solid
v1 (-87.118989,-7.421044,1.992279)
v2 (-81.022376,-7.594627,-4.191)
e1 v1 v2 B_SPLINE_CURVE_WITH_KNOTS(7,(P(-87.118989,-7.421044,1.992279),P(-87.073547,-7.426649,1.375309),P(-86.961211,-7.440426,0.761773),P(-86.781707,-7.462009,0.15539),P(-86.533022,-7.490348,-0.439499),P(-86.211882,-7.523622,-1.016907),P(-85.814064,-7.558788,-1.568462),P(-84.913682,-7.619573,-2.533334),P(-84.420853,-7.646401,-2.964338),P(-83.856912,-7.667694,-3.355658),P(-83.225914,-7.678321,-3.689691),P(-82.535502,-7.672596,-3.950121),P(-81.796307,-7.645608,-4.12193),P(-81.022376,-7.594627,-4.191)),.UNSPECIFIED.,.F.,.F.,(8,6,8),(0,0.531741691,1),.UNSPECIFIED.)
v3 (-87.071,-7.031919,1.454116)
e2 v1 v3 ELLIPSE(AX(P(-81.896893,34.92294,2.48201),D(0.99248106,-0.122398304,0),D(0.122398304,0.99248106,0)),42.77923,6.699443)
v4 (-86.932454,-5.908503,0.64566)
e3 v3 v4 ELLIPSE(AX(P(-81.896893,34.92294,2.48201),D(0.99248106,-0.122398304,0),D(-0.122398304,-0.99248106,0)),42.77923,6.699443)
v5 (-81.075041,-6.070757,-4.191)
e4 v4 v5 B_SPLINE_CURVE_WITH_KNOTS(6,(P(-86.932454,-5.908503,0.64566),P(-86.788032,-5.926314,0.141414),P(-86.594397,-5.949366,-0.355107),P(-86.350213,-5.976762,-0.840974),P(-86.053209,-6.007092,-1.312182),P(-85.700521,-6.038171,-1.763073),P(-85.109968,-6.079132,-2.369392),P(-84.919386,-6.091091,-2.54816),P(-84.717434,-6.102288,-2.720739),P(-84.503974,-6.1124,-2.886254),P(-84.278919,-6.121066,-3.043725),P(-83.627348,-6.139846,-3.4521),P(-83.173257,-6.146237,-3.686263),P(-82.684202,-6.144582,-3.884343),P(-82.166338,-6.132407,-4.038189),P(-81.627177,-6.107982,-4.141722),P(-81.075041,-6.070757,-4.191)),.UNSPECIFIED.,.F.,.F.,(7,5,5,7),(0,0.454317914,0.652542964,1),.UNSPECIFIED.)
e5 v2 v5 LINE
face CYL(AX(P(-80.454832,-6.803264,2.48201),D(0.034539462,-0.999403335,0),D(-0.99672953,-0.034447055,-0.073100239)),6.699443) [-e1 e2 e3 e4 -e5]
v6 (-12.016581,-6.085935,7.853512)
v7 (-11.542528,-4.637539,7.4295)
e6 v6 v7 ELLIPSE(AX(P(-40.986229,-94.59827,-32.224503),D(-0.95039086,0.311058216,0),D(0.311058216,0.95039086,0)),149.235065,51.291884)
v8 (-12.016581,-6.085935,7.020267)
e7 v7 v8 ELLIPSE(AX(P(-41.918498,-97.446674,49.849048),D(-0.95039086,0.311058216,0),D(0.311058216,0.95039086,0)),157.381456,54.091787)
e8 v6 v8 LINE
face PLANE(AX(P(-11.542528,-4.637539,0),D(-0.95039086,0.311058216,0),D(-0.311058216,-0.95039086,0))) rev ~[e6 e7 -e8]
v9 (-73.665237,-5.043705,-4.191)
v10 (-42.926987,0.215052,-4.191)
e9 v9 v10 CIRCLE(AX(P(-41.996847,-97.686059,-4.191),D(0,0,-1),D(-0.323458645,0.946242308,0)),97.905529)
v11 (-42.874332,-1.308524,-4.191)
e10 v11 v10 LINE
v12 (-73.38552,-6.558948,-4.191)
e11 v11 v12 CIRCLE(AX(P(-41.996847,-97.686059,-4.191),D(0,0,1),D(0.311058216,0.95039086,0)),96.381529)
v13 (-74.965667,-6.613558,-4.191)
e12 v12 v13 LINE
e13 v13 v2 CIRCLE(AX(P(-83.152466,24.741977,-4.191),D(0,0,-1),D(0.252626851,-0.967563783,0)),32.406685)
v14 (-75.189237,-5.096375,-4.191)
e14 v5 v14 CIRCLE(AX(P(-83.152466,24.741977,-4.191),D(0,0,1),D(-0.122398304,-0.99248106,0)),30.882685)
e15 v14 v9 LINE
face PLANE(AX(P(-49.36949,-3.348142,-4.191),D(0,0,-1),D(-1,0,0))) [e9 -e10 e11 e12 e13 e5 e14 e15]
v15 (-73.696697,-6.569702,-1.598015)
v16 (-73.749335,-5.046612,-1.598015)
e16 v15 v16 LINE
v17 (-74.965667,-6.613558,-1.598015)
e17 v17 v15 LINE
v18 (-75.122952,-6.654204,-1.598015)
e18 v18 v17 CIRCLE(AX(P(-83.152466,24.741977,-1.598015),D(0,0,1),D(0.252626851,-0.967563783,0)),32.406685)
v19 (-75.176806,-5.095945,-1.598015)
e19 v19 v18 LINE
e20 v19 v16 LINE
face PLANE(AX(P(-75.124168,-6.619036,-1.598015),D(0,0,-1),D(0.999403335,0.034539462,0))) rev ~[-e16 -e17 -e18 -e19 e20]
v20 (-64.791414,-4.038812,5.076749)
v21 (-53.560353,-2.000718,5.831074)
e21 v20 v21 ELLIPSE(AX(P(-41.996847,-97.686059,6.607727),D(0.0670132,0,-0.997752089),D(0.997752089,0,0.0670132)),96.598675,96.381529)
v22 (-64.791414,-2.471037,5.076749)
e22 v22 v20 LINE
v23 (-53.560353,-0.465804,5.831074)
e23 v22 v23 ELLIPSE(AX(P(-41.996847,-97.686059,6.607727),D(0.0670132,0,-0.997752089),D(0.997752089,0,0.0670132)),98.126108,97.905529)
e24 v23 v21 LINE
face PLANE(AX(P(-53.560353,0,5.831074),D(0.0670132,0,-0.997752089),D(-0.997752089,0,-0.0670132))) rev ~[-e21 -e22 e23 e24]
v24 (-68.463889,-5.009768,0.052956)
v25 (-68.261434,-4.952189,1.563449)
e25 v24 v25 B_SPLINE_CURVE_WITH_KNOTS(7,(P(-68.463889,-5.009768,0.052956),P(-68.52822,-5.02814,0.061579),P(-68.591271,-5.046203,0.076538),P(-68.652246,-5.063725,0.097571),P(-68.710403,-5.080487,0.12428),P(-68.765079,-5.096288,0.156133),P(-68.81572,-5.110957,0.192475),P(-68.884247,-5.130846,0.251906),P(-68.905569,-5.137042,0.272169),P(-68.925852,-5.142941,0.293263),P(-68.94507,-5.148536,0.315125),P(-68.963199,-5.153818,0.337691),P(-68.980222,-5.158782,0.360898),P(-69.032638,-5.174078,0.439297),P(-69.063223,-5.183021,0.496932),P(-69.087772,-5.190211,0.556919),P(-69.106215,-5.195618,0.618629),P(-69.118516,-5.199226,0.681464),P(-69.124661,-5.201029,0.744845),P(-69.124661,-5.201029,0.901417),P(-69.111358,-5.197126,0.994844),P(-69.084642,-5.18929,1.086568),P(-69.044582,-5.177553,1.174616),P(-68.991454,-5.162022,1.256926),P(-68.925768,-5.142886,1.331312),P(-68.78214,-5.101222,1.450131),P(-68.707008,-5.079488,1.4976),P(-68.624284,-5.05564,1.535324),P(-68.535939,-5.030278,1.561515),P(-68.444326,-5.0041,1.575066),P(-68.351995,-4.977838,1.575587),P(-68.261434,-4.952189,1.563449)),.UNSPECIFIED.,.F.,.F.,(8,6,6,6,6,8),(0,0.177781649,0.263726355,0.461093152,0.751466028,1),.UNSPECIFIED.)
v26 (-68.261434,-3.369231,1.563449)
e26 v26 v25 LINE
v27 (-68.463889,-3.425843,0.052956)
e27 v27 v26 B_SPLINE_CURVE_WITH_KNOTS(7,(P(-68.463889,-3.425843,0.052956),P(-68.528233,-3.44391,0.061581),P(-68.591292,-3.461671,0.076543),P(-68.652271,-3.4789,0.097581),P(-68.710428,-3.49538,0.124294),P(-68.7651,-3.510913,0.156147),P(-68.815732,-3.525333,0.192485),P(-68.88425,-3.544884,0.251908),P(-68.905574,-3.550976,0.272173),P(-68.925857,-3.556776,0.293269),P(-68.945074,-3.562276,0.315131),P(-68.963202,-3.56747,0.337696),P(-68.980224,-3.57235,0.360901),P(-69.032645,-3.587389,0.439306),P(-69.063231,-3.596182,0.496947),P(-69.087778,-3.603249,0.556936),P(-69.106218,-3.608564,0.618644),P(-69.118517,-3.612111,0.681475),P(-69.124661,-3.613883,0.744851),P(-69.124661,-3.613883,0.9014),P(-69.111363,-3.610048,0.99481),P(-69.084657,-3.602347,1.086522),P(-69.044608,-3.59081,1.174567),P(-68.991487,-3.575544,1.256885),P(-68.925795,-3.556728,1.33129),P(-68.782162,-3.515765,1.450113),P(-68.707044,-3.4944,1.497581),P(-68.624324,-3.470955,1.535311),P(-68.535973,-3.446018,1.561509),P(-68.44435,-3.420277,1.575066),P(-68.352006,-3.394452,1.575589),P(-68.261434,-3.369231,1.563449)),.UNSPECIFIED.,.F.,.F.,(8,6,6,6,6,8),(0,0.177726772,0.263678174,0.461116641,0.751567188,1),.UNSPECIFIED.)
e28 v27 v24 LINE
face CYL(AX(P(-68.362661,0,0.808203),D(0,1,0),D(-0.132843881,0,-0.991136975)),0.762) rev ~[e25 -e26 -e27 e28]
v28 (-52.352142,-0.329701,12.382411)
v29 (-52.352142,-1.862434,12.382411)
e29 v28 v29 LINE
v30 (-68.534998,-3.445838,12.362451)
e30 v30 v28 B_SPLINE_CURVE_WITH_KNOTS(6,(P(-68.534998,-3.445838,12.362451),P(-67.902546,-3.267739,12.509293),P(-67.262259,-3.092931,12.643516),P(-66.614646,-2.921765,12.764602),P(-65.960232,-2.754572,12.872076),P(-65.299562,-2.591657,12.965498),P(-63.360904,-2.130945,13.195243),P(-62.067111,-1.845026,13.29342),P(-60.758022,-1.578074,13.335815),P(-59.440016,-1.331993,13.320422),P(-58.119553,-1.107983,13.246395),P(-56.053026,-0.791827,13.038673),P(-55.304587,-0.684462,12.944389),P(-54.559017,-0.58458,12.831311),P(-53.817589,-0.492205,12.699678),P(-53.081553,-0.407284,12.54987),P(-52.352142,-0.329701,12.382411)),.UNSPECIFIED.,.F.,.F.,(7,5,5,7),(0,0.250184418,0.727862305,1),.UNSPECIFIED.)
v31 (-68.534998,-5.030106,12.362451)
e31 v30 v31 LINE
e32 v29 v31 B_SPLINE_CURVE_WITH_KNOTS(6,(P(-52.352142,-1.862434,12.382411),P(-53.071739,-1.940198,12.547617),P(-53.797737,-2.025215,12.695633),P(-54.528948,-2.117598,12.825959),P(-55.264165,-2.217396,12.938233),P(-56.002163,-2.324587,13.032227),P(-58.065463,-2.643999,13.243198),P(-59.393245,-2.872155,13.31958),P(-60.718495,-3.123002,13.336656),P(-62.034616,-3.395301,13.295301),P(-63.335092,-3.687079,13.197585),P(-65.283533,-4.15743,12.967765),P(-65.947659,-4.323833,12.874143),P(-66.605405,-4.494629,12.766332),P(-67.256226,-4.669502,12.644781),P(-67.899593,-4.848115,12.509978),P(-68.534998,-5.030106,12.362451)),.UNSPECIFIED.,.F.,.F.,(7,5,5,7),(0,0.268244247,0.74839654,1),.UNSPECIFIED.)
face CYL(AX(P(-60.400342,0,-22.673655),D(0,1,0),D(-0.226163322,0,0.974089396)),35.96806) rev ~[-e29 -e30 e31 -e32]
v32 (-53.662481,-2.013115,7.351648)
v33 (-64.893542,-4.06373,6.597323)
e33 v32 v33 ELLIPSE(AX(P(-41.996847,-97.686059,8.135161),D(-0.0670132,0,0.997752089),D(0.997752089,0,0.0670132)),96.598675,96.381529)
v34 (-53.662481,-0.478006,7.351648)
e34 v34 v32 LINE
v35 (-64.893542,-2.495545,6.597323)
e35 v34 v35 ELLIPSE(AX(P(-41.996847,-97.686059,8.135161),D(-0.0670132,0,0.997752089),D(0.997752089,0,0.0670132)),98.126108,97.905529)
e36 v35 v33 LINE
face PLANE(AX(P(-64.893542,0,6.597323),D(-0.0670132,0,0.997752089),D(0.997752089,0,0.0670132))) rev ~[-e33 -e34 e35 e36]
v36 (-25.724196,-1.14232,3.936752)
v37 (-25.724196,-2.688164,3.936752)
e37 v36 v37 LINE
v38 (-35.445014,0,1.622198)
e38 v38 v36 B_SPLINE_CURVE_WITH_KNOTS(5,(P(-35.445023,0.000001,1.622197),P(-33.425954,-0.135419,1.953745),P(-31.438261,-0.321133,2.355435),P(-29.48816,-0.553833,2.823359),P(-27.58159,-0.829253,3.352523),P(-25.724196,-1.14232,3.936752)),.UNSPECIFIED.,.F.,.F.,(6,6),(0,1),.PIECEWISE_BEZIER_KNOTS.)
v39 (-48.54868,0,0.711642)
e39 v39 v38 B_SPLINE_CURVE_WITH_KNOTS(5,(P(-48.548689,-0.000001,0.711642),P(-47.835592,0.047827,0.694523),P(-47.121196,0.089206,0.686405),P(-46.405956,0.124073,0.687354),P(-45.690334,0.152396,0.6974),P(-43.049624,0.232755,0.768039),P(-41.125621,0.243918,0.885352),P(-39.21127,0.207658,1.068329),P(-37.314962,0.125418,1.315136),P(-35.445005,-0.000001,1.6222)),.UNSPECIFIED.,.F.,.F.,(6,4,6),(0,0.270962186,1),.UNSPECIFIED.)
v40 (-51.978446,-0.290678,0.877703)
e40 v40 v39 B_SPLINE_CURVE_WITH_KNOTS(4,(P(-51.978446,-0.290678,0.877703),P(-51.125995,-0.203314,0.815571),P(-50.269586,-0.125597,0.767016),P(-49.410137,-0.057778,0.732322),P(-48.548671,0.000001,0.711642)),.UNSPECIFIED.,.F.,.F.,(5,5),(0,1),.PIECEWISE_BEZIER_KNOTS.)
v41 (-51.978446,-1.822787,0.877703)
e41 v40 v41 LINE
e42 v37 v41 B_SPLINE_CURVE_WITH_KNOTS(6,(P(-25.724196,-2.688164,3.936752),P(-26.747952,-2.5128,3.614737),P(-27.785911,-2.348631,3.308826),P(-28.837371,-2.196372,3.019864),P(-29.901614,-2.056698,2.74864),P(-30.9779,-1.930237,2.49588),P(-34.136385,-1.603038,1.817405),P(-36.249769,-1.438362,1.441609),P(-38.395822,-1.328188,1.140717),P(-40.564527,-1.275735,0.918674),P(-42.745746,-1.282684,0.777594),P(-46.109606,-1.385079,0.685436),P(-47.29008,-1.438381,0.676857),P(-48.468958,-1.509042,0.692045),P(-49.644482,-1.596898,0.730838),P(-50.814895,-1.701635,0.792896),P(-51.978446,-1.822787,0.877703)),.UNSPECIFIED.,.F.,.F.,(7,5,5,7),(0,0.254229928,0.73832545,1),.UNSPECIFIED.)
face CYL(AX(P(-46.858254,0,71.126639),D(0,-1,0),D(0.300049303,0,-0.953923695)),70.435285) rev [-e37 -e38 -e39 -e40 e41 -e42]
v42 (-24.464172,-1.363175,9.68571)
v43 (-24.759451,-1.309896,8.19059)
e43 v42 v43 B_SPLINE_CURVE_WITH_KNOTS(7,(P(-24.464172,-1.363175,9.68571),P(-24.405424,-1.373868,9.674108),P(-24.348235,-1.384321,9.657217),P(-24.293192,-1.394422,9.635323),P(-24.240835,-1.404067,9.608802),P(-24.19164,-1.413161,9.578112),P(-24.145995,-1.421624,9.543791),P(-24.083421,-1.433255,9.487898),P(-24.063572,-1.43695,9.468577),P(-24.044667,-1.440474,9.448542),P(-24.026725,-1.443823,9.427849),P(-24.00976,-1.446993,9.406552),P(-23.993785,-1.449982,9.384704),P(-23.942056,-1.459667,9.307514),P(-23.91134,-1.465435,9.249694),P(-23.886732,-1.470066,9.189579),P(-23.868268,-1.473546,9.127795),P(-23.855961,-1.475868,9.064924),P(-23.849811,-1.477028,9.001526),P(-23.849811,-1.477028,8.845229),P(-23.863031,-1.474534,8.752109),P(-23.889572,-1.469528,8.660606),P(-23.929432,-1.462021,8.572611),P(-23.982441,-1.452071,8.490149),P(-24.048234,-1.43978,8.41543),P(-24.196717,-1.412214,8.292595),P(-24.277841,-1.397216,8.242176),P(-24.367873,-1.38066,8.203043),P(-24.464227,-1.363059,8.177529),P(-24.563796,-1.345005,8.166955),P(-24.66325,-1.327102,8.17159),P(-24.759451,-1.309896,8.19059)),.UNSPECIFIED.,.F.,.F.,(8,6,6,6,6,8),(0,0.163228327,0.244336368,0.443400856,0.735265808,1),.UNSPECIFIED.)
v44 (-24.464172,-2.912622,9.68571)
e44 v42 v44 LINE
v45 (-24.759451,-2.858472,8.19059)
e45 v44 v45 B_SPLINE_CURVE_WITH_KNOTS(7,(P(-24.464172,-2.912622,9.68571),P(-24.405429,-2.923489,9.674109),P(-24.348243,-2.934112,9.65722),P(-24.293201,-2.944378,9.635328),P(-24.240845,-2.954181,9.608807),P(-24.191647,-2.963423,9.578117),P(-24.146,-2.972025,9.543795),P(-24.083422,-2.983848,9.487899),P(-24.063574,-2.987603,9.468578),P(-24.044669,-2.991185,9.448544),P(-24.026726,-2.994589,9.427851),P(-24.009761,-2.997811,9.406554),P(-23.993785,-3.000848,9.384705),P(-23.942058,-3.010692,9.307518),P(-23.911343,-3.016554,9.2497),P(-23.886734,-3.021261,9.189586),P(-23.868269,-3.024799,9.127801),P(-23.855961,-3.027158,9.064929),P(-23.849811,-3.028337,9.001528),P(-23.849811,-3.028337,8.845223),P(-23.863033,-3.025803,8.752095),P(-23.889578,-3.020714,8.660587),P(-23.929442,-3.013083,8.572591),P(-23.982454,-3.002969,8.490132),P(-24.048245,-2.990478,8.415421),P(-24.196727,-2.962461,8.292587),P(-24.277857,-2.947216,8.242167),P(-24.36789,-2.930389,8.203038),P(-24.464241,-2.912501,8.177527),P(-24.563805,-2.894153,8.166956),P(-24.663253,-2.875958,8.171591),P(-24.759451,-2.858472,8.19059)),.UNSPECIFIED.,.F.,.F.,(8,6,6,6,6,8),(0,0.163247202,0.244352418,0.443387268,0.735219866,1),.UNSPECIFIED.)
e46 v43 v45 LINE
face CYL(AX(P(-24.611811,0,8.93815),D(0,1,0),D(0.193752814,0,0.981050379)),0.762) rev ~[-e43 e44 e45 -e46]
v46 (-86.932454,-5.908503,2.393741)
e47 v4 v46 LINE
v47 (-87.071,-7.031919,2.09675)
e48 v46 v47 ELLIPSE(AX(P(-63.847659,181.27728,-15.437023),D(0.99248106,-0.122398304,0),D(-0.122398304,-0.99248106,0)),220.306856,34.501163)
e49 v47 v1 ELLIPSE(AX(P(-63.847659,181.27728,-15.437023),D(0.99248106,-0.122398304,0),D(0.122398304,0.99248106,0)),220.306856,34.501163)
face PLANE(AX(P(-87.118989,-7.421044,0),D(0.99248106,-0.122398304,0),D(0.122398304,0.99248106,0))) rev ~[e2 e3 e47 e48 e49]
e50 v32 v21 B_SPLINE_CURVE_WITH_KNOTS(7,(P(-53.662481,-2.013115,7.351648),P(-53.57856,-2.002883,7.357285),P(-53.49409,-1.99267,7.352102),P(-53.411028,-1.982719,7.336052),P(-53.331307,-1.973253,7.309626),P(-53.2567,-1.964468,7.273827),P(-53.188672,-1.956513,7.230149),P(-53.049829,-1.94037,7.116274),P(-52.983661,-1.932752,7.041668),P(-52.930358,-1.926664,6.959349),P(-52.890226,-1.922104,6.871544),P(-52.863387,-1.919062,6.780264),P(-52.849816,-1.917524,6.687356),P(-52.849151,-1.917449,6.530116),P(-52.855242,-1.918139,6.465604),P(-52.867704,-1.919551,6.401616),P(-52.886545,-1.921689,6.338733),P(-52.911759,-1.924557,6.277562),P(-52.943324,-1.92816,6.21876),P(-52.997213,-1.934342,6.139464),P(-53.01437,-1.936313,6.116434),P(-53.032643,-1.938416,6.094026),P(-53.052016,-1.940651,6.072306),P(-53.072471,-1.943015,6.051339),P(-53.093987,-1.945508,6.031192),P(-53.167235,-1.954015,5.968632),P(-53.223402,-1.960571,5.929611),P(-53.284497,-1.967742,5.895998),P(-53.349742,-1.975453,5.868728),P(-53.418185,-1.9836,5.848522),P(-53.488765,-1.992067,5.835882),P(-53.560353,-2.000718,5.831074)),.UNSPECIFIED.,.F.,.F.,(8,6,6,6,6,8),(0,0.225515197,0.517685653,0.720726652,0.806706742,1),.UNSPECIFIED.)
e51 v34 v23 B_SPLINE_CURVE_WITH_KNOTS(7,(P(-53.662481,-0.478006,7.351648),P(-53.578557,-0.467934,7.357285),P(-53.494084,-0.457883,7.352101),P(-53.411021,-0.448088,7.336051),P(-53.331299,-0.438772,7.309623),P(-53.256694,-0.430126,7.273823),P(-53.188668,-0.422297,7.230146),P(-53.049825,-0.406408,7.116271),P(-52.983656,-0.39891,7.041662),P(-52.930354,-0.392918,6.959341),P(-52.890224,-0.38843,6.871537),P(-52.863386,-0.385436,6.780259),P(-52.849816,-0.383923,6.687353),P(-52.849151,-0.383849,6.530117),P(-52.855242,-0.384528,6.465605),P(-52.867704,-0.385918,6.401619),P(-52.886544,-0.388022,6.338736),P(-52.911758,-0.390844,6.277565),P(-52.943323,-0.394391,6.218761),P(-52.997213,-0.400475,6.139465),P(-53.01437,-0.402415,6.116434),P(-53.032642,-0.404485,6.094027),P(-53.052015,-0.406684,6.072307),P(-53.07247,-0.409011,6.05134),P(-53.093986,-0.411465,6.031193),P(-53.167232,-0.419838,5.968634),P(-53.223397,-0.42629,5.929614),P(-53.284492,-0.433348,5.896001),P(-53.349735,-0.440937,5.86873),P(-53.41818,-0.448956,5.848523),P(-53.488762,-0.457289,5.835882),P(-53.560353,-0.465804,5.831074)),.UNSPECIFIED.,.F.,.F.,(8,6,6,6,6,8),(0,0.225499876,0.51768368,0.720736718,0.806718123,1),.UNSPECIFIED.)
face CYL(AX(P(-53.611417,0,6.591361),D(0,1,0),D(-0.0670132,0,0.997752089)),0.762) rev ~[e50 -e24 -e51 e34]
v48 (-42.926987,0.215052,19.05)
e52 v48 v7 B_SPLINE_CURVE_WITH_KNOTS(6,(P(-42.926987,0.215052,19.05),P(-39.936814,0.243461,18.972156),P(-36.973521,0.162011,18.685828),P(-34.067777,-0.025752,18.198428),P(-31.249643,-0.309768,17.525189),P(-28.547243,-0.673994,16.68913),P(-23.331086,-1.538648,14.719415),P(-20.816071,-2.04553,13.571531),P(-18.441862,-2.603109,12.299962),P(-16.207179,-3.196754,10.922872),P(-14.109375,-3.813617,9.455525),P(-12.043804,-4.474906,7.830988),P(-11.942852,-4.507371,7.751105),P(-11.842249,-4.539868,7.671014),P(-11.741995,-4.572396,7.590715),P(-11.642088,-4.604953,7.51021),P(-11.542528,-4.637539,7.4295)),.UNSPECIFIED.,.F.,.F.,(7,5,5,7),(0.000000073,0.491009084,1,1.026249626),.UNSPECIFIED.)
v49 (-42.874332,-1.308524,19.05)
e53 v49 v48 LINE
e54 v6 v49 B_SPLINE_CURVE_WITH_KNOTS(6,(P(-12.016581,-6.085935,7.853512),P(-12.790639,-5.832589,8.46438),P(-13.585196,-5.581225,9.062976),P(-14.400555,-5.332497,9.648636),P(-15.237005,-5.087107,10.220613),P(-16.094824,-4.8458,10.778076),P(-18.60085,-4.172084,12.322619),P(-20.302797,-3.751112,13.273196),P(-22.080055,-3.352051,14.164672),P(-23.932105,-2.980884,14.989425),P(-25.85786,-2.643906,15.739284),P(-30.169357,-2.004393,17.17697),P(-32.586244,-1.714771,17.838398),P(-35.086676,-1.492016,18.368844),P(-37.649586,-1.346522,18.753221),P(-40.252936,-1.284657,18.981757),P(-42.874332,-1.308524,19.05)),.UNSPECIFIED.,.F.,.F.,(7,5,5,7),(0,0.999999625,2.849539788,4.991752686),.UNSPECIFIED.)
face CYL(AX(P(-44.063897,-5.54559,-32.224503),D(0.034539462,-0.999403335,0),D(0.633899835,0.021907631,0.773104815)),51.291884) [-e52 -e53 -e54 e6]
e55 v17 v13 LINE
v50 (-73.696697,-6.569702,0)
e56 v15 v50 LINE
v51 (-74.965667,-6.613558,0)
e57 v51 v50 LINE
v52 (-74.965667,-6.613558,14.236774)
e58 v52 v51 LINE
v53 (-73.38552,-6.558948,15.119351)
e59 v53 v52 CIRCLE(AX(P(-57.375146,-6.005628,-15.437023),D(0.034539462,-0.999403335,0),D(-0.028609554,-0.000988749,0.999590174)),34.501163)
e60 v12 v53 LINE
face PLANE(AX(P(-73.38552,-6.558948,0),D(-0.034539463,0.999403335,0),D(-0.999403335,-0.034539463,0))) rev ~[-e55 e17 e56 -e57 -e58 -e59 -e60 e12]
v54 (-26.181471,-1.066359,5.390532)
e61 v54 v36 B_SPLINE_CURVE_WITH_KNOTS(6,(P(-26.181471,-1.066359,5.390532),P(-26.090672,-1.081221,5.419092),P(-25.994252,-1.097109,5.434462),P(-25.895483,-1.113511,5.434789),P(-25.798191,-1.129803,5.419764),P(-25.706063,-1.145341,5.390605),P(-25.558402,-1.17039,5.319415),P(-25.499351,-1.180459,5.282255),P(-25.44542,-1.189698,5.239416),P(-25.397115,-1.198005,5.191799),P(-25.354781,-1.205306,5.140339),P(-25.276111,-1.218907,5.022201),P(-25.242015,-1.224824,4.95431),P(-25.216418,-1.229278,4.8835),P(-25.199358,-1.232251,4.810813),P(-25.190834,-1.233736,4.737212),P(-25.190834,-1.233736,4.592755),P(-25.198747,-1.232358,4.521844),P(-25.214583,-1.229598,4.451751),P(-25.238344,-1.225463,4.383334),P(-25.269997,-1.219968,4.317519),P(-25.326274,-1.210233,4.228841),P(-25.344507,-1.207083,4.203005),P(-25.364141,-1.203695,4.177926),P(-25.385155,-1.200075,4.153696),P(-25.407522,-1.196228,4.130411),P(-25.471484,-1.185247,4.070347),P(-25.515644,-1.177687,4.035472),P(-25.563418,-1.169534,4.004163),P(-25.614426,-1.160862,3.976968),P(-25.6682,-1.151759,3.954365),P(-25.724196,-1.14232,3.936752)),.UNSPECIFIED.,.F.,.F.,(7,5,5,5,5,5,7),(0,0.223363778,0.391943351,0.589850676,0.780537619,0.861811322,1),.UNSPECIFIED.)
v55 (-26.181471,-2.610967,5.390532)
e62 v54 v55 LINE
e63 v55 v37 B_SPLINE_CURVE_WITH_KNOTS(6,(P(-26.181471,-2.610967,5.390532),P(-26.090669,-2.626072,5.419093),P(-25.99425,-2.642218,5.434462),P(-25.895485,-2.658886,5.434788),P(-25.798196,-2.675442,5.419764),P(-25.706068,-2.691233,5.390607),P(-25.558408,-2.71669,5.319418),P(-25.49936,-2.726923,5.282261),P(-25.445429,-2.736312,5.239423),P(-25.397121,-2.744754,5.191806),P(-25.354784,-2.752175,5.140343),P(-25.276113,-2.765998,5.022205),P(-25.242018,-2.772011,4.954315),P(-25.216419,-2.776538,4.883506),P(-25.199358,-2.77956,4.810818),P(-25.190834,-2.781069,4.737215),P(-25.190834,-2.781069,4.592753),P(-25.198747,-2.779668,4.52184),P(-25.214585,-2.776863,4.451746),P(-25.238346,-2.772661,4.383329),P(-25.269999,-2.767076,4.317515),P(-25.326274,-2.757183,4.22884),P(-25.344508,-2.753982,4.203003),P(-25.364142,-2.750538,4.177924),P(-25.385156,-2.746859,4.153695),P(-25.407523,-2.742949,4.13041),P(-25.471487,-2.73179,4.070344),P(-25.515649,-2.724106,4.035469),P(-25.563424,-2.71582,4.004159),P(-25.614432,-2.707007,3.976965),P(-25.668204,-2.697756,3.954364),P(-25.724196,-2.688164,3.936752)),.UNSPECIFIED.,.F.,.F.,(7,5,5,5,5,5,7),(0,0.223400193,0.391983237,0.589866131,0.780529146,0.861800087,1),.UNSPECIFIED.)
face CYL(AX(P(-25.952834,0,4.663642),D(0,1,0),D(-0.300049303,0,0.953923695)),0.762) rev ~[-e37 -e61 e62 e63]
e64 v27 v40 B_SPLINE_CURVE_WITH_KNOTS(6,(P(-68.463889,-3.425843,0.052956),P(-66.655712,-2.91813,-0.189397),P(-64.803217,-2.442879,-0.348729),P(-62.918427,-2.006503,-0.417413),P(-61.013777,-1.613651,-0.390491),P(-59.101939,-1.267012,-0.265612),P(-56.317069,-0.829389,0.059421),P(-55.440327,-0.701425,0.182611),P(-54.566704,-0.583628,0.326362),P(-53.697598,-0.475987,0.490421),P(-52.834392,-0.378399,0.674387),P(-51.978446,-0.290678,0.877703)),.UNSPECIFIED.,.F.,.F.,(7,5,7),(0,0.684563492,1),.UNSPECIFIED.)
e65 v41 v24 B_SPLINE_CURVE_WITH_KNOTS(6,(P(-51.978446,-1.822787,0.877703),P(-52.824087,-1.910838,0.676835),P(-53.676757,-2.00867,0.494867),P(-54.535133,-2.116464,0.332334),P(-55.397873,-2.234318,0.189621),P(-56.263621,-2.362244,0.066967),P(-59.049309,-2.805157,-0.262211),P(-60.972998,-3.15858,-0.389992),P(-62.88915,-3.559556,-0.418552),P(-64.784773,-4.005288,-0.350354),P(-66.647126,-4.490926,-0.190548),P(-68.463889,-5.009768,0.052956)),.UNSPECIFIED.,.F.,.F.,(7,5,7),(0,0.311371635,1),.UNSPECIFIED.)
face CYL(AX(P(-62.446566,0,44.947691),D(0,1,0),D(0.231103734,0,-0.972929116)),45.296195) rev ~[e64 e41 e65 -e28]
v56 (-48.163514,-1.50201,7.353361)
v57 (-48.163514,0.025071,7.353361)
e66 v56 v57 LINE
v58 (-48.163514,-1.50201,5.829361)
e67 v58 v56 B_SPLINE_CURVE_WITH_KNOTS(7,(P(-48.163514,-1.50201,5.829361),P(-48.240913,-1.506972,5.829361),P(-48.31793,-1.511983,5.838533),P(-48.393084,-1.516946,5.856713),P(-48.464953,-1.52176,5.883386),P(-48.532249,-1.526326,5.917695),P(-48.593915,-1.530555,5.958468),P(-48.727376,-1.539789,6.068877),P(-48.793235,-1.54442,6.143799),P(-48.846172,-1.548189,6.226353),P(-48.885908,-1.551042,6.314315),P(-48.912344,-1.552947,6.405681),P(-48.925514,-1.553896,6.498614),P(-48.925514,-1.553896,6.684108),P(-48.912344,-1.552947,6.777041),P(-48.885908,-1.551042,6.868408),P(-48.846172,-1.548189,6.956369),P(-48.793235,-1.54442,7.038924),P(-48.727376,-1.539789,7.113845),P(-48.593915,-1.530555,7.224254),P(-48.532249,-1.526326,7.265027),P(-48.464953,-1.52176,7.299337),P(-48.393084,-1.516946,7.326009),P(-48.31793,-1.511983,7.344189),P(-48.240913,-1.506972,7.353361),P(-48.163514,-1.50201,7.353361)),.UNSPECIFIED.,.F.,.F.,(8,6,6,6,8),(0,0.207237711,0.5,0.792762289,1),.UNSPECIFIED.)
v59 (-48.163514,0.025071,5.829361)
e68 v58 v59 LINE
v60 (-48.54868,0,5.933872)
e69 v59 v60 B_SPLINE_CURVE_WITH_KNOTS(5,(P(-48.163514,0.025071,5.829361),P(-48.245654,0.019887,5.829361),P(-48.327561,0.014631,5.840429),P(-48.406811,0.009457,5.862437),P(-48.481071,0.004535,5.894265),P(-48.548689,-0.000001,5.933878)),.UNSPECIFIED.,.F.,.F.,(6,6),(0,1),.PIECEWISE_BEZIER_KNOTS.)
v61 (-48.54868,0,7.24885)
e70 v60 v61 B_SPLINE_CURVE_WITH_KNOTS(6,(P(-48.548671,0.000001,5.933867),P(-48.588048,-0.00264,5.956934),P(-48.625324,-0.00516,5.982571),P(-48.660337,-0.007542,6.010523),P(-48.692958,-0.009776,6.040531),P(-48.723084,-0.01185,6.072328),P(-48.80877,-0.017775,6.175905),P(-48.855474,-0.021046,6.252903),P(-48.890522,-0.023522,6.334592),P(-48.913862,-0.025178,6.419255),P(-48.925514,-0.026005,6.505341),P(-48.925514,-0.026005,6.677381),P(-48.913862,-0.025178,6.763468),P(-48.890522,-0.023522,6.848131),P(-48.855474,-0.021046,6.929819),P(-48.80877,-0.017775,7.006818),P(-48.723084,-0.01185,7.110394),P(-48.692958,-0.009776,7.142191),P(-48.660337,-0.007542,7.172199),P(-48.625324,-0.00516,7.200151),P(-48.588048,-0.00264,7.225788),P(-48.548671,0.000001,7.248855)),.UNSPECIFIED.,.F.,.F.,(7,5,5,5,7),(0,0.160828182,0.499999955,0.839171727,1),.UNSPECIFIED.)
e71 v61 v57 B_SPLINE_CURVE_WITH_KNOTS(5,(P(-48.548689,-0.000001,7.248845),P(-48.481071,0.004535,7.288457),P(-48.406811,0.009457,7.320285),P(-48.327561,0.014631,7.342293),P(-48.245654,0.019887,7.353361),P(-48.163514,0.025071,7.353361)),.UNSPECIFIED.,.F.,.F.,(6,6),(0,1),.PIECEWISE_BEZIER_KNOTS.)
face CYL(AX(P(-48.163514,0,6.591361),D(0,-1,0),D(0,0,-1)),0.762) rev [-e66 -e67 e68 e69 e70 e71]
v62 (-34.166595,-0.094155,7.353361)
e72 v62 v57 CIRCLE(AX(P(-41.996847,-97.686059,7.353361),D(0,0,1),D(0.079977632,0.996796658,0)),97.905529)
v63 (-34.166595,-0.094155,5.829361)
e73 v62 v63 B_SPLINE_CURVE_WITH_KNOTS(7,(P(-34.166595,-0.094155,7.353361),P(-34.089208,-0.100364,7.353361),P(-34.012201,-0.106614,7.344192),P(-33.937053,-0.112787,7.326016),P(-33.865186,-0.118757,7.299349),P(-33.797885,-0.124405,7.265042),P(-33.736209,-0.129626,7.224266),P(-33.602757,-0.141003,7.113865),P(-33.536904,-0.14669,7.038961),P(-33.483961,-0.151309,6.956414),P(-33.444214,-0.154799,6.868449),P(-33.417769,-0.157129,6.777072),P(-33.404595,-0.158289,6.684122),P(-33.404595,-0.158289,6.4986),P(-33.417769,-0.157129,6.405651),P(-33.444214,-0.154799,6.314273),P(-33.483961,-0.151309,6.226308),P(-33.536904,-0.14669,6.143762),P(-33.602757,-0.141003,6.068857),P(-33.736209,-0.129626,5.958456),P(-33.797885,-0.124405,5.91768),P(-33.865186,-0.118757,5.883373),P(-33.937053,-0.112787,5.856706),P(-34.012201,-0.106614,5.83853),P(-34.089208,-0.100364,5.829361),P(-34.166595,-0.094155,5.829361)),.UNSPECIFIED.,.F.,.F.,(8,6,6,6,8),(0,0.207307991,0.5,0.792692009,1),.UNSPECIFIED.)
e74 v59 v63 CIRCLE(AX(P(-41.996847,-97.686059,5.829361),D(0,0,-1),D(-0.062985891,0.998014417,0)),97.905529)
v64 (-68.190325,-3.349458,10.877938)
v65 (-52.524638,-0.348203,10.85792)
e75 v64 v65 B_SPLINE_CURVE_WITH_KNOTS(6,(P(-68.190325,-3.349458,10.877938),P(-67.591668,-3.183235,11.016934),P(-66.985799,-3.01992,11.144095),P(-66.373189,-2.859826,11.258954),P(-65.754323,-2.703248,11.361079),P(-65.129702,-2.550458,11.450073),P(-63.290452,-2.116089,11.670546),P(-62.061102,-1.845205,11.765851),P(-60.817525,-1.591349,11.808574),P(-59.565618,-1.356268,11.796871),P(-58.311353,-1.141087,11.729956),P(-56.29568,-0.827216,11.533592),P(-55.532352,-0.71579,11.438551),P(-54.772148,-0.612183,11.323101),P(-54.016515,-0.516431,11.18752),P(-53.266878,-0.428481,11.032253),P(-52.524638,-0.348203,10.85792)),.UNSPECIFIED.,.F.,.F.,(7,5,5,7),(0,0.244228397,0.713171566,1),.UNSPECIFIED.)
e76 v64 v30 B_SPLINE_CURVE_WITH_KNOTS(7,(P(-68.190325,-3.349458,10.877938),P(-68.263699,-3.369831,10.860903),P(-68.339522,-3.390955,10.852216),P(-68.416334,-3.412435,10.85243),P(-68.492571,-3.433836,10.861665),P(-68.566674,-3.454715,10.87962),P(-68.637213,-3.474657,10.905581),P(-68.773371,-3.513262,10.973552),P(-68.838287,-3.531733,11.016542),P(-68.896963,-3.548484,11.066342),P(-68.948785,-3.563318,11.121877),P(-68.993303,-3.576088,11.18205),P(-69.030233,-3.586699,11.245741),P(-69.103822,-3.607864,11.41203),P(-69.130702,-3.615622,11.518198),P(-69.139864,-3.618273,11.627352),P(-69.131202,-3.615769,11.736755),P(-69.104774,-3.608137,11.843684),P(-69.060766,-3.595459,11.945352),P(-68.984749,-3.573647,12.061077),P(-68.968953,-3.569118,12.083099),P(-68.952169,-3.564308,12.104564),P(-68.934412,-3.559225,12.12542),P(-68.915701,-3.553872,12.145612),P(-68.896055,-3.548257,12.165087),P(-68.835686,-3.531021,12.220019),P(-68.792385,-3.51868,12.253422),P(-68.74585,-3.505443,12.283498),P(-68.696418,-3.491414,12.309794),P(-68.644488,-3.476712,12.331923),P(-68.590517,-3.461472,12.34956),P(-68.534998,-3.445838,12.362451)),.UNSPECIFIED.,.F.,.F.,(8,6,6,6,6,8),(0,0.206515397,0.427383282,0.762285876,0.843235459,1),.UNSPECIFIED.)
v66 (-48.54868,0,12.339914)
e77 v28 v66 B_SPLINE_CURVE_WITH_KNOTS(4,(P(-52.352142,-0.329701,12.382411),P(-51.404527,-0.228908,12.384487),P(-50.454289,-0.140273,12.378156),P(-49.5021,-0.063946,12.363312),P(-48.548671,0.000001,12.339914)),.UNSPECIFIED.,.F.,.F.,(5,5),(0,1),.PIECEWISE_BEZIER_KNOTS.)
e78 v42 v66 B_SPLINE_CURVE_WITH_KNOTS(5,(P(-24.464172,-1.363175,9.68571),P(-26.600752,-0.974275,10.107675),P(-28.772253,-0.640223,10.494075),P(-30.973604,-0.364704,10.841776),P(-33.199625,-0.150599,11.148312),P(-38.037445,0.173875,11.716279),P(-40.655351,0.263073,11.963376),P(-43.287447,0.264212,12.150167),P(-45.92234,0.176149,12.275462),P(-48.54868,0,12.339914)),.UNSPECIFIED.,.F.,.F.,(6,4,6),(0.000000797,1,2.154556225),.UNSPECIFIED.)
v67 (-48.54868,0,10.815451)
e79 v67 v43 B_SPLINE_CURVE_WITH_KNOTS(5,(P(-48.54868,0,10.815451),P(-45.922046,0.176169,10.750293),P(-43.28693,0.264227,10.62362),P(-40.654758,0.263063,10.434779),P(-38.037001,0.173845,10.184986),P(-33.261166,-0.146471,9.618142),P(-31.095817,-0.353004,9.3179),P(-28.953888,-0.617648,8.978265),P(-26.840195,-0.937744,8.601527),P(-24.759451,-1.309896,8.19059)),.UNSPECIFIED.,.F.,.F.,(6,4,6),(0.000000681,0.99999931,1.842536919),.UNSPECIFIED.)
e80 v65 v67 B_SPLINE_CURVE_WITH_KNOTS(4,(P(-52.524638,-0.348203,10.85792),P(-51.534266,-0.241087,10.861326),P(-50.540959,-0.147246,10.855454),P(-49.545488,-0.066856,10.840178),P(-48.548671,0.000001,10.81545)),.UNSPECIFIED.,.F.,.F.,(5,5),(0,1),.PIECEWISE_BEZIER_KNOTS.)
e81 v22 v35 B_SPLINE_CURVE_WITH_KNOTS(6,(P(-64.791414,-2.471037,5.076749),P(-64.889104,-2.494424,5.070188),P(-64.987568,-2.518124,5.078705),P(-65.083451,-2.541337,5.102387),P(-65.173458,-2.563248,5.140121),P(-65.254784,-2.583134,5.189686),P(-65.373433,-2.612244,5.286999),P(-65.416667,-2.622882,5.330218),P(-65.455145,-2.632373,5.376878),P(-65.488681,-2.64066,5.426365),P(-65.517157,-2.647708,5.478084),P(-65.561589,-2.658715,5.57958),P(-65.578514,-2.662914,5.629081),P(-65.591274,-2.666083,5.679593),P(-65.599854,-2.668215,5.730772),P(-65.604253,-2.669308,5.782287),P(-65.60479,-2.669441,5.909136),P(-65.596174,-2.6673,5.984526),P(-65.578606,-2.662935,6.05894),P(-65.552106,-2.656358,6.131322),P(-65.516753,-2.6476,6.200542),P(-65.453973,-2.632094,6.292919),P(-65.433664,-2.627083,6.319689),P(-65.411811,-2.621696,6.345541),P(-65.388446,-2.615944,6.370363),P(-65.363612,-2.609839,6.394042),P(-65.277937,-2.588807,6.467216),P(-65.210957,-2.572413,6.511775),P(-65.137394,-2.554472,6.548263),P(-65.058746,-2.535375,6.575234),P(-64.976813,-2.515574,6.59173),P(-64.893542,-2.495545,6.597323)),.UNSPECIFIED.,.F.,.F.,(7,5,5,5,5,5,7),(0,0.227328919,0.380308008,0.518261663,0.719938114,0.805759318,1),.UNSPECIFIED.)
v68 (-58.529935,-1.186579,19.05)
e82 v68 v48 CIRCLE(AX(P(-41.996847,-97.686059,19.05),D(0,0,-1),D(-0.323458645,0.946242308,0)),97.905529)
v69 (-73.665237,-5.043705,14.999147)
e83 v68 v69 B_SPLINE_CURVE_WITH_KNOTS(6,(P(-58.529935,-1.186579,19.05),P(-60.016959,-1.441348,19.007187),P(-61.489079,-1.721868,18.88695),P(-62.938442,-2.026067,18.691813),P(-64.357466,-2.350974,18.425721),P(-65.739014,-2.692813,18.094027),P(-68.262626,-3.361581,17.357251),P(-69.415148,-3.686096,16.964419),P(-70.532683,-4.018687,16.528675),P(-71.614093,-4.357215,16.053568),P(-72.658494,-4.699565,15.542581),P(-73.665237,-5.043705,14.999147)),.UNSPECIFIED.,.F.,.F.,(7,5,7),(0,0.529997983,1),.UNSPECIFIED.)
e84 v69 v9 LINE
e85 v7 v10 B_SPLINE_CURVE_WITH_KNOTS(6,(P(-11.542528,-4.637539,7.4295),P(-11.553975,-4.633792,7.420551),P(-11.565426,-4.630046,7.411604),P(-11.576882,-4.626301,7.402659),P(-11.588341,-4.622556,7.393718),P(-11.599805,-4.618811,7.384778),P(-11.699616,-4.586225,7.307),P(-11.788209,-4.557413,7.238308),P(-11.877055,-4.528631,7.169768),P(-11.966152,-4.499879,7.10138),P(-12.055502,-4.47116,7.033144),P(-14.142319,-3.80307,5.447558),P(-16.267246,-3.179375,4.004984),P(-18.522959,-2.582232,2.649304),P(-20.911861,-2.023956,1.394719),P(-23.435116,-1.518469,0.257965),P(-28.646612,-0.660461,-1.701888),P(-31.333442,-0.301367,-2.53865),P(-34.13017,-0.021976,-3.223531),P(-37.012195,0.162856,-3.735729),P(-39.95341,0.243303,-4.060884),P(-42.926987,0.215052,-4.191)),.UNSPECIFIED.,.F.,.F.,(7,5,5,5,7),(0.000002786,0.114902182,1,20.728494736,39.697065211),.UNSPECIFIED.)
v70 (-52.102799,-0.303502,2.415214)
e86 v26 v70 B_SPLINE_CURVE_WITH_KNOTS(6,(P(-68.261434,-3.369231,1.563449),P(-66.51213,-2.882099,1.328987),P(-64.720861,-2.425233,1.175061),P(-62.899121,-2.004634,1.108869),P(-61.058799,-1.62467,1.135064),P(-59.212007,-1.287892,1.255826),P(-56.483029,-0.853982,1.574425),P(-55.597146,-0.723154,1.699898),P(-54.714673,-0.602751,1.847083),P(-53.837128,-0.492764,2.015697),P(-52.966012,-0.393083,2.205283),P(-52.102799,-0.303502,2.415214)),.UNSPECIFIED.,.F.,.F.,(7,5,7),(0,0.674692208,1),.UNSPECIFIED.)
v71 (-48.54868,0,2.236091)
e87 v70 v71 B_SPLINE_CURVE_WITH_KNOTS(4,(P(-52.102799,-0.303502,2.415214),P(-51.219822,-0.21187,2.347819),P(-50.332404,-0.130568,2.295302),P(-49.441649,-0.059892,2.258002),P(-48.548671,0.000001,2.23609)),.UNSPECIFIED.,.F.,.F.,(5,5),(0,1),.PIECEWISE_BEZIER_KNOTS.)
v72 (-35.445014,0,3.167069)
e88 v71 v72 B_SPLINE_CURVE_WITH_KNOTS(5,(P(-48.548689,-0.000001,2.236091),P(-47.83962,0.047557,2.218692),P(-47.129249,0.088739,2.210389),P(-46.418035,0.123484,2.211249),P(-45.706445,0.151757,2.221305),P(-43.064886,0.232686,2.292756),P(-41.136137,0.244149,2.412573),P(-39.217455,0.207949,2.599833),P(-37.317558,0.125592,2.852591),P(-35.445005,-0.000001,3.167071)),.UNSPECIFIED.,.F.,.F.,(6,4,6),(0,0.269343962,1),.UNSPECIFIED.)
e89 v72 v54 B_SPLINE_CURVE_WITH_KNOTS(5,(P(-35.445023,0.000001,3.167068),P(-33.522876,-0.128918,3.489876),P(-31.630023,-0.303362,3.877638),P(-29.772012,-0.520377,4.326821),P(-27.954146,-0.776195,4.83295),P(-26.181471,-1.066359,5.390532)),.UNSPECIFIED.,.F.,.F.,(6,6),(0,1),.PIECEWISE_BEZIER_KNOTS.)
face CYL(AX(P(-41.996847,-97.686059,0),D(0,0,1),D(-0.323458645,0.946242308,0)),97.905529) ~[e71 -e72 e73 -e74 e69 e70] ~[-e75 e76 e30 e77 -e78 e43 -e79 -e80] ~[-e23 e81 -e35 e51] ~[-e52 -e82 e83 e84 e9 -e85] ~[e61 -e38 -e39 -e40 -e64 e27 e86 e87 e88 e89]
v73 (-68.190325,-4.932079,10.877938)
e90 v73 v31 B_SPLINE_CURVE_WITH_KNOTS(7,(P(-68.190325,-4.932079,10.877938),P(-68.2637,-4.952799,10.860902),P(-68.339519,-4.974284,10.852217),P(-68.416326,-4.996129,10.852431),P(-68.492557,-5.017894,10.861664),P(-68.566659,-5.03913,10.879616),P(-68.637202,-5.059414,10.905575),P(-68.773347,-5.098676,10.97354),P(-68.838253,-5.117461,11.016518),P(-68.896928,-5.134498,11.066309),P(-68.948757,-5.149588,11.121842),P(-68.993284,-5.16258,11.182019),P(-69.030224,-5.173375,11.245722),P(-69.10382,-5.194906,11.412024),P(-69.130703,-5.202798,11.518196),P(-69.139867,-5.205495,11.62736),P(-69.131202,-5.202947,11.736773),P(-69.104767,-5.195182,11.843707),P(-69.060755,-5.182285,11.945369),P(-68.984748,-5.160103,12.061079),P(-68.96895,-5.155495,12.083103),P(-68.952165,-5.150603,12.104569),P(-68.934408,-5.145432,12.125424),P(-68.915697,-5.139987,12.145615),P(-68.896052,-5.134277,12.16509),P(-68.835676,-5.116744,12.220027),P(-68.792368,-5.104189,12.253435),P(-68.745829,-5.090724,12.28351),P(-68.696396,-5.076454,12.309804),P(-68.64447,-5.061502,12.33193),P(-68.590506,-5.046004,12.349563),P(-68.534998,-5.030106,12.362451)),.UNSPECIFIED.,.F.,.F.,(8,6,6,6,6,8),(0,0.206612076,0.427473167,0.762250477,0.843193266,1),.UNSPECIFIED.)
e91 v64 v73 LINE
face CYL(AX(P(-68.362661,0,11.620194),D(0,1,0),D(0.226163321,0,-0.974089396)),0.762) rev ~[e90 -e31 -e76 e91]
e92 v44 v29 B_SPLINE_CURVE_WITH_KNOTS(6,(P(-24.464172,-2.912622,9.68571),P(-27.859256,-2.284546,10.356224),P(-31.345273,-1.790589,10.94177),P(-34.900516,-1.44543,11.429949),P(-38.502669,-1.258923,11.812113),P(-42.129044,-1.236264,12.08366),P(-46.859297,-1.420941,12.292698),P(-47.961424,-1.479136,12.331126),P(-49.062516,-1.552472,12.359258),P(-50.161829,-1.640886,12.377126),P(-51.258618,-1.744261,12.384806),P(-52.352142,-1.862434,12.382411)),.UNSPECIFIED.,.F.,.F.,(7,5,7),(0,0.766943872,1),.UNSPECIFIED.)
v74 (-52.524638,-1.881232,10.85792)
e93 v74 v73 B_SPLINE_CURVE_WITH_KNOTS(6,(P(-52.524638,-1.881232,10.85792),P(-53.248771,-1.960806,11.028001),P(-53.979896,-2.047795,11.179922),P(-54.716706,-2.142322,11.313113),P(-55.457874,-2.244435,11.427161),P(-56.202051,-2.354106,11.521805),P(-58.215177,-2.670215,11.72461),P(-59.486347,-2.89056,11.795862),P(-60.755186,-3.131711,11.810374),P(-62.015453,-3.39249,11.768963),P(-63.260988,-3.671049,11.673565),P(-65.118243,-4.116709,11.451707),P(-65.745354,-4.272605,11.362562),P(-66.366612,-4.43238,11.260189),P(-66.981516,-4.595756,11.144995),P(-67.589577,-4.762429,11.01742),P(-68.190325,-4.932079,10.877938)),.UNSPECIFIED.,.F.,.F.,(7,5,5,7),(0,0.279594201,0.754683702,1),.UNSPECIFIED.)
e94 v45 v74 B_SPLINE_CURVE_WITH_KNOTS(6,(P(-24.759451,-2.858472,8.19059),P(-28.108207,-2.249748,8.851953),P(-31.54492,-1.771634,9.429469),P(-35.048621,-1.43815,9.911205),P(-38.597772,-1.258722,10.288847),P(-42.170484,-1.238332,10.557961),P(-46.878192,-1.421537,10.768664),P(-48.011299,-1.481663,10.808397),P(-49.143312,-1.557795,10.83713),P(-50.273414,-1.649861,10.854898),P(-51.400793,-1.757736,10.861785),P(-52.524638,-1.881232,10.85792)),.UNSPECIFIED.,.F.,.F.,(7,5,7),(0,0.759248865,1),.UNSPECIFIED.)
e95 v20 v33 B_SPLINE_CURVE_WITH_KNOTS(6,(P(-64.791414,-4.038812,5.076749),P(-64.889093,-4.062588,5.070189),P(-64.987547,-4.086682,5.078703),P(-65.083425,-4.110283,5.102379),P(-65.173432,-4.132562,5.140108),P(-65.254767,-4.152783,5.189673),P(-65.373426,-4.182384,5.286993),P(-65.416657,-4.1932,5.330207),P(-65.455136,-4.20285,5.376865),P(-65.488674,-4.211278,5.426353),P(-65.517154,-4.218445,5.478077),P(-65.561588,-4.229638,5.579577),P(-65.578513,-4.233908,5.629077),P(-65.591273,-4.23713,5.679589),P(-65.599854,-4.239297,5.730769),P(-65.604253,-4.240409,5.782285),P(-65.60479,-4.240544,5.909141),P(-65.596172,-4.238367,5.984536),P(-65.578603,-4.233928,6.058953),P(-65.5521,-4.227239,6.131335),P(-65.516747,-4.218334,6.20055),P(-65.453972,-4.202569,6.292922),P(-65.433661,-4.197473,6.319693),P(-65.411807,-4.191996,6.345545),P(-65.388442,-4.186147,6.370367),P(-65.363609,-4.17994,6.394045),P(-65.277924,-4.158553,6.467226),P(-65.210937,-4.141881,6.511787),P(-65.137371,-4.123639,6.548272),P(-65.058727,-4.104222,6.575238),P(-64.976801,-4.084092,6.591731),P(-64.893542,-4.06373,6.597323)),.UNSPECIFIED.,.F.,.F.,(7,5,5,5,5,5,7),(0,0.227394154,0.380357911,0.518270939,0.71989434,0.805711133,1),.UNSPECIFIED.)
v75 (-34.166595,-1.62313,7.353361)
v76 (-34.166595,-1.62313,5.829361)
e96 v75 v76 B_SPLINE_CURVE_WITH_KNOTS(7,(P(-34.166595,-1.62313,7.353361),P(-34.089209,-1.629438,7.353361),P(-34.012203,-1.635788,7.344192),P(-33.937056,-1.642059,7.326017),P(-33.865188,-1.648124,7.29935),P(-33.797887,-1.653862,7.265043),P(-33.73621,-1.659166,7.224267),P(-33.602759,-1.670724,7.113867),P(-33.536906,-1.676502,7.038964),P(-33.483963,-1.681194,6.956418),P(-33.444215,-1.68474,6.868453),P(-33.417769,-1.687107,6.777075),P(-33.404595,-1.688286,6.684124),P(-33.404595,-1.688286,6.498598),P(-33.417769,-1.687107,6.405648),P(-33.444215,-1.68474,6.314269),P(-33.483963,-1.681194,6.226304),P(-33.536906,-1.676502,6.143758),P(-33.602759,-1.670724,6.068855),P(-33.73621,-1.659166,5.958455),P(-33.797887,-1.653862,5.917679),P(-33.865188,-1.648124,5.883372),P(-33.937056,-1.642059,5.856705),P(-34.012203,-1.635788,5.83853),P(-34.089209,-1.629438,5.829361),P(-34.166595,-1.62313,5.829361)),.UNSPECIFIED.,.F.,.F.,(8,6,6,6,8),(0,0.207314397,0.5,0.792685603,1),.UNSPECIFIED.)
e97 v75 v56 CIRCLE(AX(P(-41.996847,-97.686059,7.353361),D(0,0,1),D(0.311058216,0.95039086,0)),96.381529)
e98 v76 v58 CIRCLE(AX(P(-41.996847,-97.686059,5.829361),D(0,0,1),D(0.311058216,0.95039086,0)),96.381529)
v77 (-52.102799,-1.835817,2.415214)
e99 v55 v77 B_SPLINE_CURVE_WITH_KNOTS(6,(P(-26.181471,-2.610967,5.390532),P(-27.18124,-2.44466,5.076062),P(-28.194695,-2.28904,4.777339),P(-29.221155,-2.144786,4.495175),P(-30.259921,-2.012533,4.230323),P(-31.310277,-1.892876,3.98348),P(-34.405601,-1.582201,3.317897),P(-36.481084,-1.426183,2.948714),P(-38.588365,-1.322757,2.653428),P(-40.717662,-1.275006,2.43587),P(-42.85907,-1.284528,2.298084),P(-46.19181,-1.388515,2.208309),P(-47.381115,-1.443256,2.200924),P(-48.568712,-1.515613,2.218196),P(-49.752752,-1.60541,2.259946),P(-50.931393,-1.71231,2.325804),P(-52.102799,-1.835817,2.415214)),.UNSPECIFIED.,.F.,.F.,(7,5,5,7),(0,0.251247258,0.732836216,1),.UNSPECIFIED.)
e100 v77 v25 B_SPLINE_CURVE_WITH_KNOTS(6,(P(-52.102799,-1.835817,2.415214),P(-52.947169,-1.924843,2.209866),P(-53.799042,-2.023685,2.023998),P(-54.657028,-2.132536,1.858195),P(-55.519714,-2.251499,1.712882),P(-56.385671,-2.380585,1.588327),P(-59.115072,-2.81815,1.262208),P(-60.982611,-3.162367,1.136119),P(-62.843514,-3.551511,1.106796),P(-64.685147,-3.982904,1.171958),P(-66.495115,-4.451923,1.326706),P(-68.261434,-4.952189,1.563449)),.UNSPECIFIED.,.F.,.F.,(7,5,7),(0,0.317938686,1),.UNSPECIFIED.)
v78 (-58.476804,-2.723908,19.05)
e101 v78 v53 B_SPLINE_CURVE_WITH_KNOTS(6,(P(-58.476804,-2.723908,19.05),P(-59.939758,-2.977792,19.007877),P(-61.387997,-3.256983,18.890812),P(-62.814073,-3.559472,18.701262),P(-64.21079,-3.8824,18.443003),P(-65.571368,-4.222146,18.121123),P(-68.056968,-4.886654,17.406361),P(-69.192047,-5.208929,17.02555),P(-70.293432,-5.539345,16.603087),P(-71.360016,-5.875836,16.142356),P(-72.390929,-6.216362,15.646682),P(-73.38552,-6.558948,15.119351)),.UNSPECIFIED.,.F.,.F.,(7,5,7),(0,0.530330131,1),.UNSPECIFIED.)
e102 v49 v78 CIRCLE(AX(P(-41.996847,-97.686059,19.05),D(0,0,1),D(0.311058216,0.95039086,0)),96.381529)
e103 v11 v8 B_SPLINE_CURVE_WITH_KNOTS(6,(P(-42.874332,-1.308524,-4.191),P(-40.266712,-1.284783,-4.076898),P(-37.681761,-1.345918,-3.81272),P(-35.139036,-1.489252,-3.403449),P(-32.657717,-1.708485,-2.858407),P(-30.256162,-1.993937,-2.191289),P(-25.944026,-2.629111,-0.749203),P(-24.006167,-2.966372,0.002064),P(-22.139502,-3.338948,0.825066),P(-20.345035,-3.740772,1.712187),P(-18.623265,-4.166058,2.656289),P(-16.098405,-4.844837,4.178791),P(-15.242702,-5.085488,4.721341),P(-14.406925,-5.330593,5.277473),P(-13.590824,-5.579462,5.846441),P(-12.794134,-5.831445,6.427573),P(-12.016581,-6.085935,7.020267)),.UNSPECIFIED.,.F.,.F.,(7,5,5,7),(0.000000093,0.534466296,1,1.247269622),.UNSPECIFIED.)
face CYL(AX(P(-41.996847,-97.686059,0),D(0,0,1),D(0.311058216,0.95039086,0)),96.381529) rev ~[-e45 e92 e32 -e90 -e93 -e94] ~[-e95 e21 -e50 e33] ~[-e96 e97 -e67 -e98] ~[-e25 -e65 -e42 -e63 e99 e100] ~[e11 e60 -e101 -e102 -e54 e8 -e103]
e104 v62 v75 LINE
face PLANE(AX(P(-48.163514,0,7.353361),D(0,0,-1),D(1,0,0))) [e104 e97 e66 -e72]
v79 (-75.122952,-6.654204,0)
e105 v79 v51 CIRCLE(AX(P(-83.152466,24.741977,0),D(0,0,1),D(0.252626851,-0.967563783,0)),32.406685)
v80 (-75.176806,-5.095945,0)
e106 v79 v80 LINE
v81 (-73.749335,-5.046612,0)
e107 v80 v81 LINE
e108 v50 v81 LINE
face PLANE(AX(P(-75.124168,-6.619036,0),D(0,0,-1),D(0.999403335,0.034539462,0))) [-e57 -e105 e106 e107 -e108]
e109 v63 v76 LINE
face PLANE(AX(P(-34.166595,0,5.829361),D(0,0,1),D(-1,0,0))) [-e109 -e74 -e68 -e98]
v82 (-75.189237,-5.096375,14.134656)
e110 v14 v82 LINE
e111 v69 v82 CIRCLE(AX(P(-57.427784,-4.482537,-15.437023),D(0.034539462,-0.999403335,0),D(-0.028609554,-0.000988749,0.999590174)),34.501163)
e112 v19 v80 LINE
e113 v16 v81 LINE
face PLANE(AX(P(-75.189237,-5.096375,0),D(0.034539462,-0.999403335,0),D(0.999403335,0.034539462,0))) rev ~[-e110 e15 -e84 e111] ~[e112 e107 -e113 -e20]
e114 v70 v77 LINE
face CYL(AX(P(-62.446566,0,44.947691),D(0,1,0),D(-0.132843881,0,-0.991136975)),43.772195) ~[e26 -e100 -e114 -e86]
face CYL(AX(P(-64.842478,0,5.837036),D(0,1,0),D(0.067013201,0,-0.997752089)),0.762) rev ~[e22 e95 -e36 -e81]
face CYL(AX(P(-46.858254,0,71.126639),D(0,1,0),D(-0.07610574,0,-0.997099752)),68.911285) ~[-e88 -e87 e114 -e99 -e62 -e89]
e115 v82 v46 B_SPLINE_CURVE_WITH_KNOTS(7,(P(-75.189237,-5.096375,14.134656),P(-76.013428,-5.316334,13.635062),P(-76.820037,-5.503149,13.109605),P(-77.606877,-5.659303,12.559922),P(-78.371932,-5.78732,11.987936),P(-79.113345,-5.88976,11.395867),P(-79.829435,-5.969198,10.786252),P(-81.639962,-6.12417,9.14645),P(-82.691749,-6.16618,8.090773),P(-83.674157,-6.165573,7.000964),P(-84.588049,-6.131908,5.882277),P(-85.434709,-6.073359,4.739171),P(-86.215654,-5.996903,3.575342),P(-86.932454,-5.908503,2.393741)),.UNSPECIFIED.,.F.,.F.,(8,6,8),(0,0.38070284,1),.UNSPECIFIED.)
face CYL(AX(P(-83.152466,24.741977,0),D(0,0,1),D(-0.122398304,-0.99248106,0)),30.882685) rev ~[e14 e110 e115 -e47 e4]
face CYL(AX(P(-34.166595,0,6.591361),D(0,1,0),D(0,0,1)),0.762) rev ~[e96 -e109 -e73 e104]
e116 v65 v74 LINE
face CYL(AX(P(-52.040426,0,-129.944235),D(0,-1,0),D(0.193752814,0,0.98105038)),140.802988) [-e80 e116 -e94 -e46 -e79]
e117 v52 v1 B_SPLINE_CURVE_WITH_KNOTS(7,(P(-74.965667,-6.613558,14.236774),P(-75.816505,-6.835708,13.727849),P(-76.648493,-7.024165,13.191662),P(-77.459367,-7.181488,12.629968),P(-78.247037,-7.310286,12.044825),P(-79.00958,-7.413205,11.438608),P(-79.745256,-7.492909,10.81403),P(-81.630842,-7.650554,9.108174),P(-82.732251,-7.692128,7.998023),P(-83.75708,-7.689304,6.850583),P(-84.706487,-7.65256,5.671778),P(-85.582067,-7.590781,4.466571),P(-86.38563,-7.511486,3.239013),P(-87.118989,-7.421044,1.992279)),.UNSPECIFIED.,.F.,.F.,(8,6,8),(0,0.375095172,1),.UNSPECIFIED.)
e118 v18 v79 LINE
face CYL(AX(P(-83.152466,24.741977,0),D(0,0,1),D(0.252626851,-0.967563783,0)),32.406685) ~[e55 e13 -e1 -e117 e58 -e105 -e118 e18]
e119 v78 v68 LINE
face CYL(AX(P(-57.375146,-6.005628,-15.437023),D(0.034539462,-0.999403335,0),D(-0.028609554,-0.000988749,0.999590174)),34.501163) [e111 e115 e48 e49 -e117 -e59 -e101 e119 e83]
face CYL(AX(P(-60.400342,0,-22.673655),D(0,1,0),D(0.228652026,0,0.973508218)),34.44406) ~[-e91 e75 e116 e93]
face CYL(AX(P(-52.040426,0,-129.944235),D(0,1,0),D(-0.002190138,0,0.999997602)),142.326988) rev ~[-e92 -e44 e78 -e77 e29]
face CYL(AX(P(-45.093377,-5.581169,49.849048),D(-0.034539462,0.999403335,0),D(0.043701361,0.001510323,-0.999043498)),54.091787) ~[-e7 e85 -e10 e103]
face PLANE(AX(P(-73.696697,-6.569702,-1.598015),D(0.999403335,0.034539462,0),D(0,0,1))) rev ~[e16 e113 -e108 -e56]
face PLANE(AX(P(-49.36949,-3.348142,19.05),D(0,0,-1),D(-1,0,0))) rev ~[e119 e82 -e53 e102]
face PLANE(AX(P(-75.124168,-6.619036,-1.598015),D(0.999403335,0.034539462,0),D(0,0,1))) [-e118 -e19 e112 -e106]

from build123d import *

# Parameters (mm, degrees)
BOSS_EXTRUDE1_DEPTH      = 19.05
BOSS_EXTRUDE1_DEPTH_BACK = 4.191
CUT_EXTRUDE1_DEPTH       = 90.413592179
CUT_EXTRUDE1_DEPTH_BACK  = 90.413592179
SKETCH2_W                = 87.253712628
SKETCH2_H                = 39.813319923
CUT_EXTRUDE2_DEPTH       = 19.05
CUT_EXTRUDE2_DEPTH_BACK  = 19.05
SKETCH3_W                = 1.428322818
SKETCH3_H                = 1.598014705
CUT_EXTRUDE3_DEPTH       = 90.506248835
CUT_EXTRUDE3_DEPTH_BACK  = 90.506248835


with BuildPart() as part:
    # Sketch1 → Boss-Extrude1 (new, two sides: drawn at the far end of the back side and taken through both)
    with BuildSketch(Plane.XY.offset(-BOSS_EXTRUDE1_DEPTH_BACK)):
        with BuildLine():
            Line((-75.189237024, -5.096374737), (-73.665237024, -5.043705171))
            ThreePointArc((-73.665237024, -5.043705171), (-42.636952293, 0.217377617), (-11.542527873, -4.637539006))
            Line((-11.542527873, -4.637539006), (-12.016580594, -6.085934677))
            ThreePointArc((-12.016580594, -6.085934677), (-42.739704949, -1.307392681), (-73.385520331, -6.558947999))
            Line((-73.385520331, -6.558947999), (-74.965667148, -6.613558005))
            ThreePointArc((-74.965667148, -6.613558005), (-81.004050329, -7.593414774), (-87.118989346, -7.421044375))
            Line((-87.118989346, -7.421044375), (-86.932454331, -5.908503239))
            ThreePointArc((-86.932454331, -5.908503239), (-81.021793865, -6.067120464), (-75.189237024, -5.096374737))
        make_face()
    extrude(amount=BOSS_EXTRUDE1_DEPTH + BOSS_EXTRUDE1_DEPTH_BACK)

    # Sketch2 → Cut-Extrude1 (cut, two sides: drawn at the far end of the back side and taken through both)
    with BuildSketch(Plane(origin=(0.138860316, -4.017939298, 0), x_dir=(-0.9994033347691804, -0.03453946224598228, 0), z_dir=(0.03453946224598228, -0.9994033347691804, 0)).offset(-CUT_EXTRUDE1_DEPTH_BACK)):
        with Locations((49.508356896, -7.260136502)):
            Rectangle(SKETCH2_W, SKETCH2_H)
        with BuildLine():
            Line((42.893945954, -19.05), (58.535995628, -19.05))
            ThreePointArc((58.535995628, -19.05), (75.136021198, -14.244685293), (87.323327356, -1.992278715))
            ThreePointArc((87.323327356, -1.992278715), (85.416060887, 2.217888864), (81.236346917, 4.191))
            Line((81.236346917, 4.191), (42.893945954, 4.191))
            ThreePointArc((42.893945954, 4.191), (26.378637692, 0.840637304), (11.695818951, -7.4295))
            ThreePointArc((11.695818951, -7.4295), (26.325842273, -15.841379758), (42.893945954, -19.05))
        make_face(mode=Mode.SUBTRACT)
    extrude(amount=CUT_EXTRUDE1_DEPTH + CUT_EXTRUDE1_DEPTH_BACK, mode=Mode.SUBTRACT)

    # Sketch3 → Cut-Extrude2 (cut, two sides: drawn at the far end of the back side and taken through both)
    with BuildSketch(Plane(origin=(0.138860316, -4.017939298, 0), x_dir=(0.9994033347691804, 0.03453946224598228, 0), z_dir=(0.03453946224598228, -0.9994033347691804, 0)).offset(-CUT_EXTRUDE2_DEPTH_BACK)):
        with Locations((-74.593800237, -0.799007353)):
            Rectangle(SKETCH3_W, SKETCH3_H)
    extrude(amount=CUT_EXTRUDE2_DEPTH + CUT_EXTRUDE2_DEPTH_BACK, mode=Mode.SUBTRACT)

    # Sketch4 → Cut-Extrude3 (cut, two sides: drawn at the far end of the back side and taken through both)
    with BuildSketch(Plane(origin=(0, 0, 0), x_dir=(1, 0, 0), z_dir=(0, 1, 0)).offset(-CUT_EXTRUDE3_DEPTH_BACK)):
        with BuildLine():
            Line((-64.893542216, -6.597323199), (-53.662481079, -7.351648201))
            ThreePointArc((-53.662481079, -7.351648201), (-52.851129929, -6.642425168), (-53.560352962, -5.831074017))
            Line((-53.560352962, -5.831074017), (-64.791414099, -5.076749016))
            ThreePointArc((-64.791414099, -5.076749016), (-65.60276525, -5.785972049), (-64.893542216, -6.597323199))
        make_face()
        with BuildLine():
            Line((-48.16351423, -7.353361109), (-34.166594754, -7.353361109))
            ThreePointArc((-34.166594754, -7.353361109), (-33.404594754, -6.591361109), (-34.166594754, -5.829361109))
            Line((-34.166594754, -5.829361109), (-48.16351423, -5.829361109))
            ThreePointArc((-48.16351423, -5.829361109), (-48.92551423, -6.591361109), (-48.16351423, -7.353361109))
        make_face()
        with BuildLine():
            ThreePointArc((-68.534997951, -12.362450574), (-60.444707089, -13.294377363), (-52.352141863, -12.382411445))
            ThreePointArc((-52.352141863, -12.382411445), (-38.341637279, -11.721973531), (-24.464171754, -9.685710393))
            ThreePointArc((-24.464171754, -9.685710393), (-23.864251009, -8.790510359), (-24.759451042, -8.190589614))
            ThreePointArc((-24.759451042, -8.190589614), (-38.575832063, -10.213483586), (-52.524637961, -10.857920208))
            ThreePointArc((-52.524637961, -10.857920208), (-60.356328328, -11.770376603), (-68.190325048, -10.877938334))
            ThreePointArc((-68.190325048, -10.877938334), (-69.104917619, -11.447858003), (-68.534997951, -12.362450574))
        make_face()
        with BuildLine():
            ThreePointArc((-25.724196054, -3.936751805), (-38.706541391, -1.164656942), (-51.978446223, -0.877703144))
            ThreePointArc((-51.978446223, -0.877703144), (-60.183282807, 0.29192564), (-68.463888537, -0.052956388))
            ThreePointArc((-68.463888537, -0.052956388), (-69.117907874, -0.9094298), (-68.261434462, -1.563449137))
            ThreePointArc((-68.261434462, -1.563449137), (-60.142415983, -1.236181897), (-52.102798554, -2.415213913))
            ThreePointArc((-52.102798554, -2.415213913), (-39.000033907, -2.664871884), (-26.181471193, -5.390531516))
            ThreePointArc((-26.181471193, -5.390531516), (-25.225943768, -4.892279229), (-25.724196054, -3.936751805))
        make_face()
    extrude(amount=CUT_EXTRUDE3_DEPTH + CUT_EXTRUDE3_DEPTH_BACK, mode=Mode.SUBTRACT)


solid = part.part
